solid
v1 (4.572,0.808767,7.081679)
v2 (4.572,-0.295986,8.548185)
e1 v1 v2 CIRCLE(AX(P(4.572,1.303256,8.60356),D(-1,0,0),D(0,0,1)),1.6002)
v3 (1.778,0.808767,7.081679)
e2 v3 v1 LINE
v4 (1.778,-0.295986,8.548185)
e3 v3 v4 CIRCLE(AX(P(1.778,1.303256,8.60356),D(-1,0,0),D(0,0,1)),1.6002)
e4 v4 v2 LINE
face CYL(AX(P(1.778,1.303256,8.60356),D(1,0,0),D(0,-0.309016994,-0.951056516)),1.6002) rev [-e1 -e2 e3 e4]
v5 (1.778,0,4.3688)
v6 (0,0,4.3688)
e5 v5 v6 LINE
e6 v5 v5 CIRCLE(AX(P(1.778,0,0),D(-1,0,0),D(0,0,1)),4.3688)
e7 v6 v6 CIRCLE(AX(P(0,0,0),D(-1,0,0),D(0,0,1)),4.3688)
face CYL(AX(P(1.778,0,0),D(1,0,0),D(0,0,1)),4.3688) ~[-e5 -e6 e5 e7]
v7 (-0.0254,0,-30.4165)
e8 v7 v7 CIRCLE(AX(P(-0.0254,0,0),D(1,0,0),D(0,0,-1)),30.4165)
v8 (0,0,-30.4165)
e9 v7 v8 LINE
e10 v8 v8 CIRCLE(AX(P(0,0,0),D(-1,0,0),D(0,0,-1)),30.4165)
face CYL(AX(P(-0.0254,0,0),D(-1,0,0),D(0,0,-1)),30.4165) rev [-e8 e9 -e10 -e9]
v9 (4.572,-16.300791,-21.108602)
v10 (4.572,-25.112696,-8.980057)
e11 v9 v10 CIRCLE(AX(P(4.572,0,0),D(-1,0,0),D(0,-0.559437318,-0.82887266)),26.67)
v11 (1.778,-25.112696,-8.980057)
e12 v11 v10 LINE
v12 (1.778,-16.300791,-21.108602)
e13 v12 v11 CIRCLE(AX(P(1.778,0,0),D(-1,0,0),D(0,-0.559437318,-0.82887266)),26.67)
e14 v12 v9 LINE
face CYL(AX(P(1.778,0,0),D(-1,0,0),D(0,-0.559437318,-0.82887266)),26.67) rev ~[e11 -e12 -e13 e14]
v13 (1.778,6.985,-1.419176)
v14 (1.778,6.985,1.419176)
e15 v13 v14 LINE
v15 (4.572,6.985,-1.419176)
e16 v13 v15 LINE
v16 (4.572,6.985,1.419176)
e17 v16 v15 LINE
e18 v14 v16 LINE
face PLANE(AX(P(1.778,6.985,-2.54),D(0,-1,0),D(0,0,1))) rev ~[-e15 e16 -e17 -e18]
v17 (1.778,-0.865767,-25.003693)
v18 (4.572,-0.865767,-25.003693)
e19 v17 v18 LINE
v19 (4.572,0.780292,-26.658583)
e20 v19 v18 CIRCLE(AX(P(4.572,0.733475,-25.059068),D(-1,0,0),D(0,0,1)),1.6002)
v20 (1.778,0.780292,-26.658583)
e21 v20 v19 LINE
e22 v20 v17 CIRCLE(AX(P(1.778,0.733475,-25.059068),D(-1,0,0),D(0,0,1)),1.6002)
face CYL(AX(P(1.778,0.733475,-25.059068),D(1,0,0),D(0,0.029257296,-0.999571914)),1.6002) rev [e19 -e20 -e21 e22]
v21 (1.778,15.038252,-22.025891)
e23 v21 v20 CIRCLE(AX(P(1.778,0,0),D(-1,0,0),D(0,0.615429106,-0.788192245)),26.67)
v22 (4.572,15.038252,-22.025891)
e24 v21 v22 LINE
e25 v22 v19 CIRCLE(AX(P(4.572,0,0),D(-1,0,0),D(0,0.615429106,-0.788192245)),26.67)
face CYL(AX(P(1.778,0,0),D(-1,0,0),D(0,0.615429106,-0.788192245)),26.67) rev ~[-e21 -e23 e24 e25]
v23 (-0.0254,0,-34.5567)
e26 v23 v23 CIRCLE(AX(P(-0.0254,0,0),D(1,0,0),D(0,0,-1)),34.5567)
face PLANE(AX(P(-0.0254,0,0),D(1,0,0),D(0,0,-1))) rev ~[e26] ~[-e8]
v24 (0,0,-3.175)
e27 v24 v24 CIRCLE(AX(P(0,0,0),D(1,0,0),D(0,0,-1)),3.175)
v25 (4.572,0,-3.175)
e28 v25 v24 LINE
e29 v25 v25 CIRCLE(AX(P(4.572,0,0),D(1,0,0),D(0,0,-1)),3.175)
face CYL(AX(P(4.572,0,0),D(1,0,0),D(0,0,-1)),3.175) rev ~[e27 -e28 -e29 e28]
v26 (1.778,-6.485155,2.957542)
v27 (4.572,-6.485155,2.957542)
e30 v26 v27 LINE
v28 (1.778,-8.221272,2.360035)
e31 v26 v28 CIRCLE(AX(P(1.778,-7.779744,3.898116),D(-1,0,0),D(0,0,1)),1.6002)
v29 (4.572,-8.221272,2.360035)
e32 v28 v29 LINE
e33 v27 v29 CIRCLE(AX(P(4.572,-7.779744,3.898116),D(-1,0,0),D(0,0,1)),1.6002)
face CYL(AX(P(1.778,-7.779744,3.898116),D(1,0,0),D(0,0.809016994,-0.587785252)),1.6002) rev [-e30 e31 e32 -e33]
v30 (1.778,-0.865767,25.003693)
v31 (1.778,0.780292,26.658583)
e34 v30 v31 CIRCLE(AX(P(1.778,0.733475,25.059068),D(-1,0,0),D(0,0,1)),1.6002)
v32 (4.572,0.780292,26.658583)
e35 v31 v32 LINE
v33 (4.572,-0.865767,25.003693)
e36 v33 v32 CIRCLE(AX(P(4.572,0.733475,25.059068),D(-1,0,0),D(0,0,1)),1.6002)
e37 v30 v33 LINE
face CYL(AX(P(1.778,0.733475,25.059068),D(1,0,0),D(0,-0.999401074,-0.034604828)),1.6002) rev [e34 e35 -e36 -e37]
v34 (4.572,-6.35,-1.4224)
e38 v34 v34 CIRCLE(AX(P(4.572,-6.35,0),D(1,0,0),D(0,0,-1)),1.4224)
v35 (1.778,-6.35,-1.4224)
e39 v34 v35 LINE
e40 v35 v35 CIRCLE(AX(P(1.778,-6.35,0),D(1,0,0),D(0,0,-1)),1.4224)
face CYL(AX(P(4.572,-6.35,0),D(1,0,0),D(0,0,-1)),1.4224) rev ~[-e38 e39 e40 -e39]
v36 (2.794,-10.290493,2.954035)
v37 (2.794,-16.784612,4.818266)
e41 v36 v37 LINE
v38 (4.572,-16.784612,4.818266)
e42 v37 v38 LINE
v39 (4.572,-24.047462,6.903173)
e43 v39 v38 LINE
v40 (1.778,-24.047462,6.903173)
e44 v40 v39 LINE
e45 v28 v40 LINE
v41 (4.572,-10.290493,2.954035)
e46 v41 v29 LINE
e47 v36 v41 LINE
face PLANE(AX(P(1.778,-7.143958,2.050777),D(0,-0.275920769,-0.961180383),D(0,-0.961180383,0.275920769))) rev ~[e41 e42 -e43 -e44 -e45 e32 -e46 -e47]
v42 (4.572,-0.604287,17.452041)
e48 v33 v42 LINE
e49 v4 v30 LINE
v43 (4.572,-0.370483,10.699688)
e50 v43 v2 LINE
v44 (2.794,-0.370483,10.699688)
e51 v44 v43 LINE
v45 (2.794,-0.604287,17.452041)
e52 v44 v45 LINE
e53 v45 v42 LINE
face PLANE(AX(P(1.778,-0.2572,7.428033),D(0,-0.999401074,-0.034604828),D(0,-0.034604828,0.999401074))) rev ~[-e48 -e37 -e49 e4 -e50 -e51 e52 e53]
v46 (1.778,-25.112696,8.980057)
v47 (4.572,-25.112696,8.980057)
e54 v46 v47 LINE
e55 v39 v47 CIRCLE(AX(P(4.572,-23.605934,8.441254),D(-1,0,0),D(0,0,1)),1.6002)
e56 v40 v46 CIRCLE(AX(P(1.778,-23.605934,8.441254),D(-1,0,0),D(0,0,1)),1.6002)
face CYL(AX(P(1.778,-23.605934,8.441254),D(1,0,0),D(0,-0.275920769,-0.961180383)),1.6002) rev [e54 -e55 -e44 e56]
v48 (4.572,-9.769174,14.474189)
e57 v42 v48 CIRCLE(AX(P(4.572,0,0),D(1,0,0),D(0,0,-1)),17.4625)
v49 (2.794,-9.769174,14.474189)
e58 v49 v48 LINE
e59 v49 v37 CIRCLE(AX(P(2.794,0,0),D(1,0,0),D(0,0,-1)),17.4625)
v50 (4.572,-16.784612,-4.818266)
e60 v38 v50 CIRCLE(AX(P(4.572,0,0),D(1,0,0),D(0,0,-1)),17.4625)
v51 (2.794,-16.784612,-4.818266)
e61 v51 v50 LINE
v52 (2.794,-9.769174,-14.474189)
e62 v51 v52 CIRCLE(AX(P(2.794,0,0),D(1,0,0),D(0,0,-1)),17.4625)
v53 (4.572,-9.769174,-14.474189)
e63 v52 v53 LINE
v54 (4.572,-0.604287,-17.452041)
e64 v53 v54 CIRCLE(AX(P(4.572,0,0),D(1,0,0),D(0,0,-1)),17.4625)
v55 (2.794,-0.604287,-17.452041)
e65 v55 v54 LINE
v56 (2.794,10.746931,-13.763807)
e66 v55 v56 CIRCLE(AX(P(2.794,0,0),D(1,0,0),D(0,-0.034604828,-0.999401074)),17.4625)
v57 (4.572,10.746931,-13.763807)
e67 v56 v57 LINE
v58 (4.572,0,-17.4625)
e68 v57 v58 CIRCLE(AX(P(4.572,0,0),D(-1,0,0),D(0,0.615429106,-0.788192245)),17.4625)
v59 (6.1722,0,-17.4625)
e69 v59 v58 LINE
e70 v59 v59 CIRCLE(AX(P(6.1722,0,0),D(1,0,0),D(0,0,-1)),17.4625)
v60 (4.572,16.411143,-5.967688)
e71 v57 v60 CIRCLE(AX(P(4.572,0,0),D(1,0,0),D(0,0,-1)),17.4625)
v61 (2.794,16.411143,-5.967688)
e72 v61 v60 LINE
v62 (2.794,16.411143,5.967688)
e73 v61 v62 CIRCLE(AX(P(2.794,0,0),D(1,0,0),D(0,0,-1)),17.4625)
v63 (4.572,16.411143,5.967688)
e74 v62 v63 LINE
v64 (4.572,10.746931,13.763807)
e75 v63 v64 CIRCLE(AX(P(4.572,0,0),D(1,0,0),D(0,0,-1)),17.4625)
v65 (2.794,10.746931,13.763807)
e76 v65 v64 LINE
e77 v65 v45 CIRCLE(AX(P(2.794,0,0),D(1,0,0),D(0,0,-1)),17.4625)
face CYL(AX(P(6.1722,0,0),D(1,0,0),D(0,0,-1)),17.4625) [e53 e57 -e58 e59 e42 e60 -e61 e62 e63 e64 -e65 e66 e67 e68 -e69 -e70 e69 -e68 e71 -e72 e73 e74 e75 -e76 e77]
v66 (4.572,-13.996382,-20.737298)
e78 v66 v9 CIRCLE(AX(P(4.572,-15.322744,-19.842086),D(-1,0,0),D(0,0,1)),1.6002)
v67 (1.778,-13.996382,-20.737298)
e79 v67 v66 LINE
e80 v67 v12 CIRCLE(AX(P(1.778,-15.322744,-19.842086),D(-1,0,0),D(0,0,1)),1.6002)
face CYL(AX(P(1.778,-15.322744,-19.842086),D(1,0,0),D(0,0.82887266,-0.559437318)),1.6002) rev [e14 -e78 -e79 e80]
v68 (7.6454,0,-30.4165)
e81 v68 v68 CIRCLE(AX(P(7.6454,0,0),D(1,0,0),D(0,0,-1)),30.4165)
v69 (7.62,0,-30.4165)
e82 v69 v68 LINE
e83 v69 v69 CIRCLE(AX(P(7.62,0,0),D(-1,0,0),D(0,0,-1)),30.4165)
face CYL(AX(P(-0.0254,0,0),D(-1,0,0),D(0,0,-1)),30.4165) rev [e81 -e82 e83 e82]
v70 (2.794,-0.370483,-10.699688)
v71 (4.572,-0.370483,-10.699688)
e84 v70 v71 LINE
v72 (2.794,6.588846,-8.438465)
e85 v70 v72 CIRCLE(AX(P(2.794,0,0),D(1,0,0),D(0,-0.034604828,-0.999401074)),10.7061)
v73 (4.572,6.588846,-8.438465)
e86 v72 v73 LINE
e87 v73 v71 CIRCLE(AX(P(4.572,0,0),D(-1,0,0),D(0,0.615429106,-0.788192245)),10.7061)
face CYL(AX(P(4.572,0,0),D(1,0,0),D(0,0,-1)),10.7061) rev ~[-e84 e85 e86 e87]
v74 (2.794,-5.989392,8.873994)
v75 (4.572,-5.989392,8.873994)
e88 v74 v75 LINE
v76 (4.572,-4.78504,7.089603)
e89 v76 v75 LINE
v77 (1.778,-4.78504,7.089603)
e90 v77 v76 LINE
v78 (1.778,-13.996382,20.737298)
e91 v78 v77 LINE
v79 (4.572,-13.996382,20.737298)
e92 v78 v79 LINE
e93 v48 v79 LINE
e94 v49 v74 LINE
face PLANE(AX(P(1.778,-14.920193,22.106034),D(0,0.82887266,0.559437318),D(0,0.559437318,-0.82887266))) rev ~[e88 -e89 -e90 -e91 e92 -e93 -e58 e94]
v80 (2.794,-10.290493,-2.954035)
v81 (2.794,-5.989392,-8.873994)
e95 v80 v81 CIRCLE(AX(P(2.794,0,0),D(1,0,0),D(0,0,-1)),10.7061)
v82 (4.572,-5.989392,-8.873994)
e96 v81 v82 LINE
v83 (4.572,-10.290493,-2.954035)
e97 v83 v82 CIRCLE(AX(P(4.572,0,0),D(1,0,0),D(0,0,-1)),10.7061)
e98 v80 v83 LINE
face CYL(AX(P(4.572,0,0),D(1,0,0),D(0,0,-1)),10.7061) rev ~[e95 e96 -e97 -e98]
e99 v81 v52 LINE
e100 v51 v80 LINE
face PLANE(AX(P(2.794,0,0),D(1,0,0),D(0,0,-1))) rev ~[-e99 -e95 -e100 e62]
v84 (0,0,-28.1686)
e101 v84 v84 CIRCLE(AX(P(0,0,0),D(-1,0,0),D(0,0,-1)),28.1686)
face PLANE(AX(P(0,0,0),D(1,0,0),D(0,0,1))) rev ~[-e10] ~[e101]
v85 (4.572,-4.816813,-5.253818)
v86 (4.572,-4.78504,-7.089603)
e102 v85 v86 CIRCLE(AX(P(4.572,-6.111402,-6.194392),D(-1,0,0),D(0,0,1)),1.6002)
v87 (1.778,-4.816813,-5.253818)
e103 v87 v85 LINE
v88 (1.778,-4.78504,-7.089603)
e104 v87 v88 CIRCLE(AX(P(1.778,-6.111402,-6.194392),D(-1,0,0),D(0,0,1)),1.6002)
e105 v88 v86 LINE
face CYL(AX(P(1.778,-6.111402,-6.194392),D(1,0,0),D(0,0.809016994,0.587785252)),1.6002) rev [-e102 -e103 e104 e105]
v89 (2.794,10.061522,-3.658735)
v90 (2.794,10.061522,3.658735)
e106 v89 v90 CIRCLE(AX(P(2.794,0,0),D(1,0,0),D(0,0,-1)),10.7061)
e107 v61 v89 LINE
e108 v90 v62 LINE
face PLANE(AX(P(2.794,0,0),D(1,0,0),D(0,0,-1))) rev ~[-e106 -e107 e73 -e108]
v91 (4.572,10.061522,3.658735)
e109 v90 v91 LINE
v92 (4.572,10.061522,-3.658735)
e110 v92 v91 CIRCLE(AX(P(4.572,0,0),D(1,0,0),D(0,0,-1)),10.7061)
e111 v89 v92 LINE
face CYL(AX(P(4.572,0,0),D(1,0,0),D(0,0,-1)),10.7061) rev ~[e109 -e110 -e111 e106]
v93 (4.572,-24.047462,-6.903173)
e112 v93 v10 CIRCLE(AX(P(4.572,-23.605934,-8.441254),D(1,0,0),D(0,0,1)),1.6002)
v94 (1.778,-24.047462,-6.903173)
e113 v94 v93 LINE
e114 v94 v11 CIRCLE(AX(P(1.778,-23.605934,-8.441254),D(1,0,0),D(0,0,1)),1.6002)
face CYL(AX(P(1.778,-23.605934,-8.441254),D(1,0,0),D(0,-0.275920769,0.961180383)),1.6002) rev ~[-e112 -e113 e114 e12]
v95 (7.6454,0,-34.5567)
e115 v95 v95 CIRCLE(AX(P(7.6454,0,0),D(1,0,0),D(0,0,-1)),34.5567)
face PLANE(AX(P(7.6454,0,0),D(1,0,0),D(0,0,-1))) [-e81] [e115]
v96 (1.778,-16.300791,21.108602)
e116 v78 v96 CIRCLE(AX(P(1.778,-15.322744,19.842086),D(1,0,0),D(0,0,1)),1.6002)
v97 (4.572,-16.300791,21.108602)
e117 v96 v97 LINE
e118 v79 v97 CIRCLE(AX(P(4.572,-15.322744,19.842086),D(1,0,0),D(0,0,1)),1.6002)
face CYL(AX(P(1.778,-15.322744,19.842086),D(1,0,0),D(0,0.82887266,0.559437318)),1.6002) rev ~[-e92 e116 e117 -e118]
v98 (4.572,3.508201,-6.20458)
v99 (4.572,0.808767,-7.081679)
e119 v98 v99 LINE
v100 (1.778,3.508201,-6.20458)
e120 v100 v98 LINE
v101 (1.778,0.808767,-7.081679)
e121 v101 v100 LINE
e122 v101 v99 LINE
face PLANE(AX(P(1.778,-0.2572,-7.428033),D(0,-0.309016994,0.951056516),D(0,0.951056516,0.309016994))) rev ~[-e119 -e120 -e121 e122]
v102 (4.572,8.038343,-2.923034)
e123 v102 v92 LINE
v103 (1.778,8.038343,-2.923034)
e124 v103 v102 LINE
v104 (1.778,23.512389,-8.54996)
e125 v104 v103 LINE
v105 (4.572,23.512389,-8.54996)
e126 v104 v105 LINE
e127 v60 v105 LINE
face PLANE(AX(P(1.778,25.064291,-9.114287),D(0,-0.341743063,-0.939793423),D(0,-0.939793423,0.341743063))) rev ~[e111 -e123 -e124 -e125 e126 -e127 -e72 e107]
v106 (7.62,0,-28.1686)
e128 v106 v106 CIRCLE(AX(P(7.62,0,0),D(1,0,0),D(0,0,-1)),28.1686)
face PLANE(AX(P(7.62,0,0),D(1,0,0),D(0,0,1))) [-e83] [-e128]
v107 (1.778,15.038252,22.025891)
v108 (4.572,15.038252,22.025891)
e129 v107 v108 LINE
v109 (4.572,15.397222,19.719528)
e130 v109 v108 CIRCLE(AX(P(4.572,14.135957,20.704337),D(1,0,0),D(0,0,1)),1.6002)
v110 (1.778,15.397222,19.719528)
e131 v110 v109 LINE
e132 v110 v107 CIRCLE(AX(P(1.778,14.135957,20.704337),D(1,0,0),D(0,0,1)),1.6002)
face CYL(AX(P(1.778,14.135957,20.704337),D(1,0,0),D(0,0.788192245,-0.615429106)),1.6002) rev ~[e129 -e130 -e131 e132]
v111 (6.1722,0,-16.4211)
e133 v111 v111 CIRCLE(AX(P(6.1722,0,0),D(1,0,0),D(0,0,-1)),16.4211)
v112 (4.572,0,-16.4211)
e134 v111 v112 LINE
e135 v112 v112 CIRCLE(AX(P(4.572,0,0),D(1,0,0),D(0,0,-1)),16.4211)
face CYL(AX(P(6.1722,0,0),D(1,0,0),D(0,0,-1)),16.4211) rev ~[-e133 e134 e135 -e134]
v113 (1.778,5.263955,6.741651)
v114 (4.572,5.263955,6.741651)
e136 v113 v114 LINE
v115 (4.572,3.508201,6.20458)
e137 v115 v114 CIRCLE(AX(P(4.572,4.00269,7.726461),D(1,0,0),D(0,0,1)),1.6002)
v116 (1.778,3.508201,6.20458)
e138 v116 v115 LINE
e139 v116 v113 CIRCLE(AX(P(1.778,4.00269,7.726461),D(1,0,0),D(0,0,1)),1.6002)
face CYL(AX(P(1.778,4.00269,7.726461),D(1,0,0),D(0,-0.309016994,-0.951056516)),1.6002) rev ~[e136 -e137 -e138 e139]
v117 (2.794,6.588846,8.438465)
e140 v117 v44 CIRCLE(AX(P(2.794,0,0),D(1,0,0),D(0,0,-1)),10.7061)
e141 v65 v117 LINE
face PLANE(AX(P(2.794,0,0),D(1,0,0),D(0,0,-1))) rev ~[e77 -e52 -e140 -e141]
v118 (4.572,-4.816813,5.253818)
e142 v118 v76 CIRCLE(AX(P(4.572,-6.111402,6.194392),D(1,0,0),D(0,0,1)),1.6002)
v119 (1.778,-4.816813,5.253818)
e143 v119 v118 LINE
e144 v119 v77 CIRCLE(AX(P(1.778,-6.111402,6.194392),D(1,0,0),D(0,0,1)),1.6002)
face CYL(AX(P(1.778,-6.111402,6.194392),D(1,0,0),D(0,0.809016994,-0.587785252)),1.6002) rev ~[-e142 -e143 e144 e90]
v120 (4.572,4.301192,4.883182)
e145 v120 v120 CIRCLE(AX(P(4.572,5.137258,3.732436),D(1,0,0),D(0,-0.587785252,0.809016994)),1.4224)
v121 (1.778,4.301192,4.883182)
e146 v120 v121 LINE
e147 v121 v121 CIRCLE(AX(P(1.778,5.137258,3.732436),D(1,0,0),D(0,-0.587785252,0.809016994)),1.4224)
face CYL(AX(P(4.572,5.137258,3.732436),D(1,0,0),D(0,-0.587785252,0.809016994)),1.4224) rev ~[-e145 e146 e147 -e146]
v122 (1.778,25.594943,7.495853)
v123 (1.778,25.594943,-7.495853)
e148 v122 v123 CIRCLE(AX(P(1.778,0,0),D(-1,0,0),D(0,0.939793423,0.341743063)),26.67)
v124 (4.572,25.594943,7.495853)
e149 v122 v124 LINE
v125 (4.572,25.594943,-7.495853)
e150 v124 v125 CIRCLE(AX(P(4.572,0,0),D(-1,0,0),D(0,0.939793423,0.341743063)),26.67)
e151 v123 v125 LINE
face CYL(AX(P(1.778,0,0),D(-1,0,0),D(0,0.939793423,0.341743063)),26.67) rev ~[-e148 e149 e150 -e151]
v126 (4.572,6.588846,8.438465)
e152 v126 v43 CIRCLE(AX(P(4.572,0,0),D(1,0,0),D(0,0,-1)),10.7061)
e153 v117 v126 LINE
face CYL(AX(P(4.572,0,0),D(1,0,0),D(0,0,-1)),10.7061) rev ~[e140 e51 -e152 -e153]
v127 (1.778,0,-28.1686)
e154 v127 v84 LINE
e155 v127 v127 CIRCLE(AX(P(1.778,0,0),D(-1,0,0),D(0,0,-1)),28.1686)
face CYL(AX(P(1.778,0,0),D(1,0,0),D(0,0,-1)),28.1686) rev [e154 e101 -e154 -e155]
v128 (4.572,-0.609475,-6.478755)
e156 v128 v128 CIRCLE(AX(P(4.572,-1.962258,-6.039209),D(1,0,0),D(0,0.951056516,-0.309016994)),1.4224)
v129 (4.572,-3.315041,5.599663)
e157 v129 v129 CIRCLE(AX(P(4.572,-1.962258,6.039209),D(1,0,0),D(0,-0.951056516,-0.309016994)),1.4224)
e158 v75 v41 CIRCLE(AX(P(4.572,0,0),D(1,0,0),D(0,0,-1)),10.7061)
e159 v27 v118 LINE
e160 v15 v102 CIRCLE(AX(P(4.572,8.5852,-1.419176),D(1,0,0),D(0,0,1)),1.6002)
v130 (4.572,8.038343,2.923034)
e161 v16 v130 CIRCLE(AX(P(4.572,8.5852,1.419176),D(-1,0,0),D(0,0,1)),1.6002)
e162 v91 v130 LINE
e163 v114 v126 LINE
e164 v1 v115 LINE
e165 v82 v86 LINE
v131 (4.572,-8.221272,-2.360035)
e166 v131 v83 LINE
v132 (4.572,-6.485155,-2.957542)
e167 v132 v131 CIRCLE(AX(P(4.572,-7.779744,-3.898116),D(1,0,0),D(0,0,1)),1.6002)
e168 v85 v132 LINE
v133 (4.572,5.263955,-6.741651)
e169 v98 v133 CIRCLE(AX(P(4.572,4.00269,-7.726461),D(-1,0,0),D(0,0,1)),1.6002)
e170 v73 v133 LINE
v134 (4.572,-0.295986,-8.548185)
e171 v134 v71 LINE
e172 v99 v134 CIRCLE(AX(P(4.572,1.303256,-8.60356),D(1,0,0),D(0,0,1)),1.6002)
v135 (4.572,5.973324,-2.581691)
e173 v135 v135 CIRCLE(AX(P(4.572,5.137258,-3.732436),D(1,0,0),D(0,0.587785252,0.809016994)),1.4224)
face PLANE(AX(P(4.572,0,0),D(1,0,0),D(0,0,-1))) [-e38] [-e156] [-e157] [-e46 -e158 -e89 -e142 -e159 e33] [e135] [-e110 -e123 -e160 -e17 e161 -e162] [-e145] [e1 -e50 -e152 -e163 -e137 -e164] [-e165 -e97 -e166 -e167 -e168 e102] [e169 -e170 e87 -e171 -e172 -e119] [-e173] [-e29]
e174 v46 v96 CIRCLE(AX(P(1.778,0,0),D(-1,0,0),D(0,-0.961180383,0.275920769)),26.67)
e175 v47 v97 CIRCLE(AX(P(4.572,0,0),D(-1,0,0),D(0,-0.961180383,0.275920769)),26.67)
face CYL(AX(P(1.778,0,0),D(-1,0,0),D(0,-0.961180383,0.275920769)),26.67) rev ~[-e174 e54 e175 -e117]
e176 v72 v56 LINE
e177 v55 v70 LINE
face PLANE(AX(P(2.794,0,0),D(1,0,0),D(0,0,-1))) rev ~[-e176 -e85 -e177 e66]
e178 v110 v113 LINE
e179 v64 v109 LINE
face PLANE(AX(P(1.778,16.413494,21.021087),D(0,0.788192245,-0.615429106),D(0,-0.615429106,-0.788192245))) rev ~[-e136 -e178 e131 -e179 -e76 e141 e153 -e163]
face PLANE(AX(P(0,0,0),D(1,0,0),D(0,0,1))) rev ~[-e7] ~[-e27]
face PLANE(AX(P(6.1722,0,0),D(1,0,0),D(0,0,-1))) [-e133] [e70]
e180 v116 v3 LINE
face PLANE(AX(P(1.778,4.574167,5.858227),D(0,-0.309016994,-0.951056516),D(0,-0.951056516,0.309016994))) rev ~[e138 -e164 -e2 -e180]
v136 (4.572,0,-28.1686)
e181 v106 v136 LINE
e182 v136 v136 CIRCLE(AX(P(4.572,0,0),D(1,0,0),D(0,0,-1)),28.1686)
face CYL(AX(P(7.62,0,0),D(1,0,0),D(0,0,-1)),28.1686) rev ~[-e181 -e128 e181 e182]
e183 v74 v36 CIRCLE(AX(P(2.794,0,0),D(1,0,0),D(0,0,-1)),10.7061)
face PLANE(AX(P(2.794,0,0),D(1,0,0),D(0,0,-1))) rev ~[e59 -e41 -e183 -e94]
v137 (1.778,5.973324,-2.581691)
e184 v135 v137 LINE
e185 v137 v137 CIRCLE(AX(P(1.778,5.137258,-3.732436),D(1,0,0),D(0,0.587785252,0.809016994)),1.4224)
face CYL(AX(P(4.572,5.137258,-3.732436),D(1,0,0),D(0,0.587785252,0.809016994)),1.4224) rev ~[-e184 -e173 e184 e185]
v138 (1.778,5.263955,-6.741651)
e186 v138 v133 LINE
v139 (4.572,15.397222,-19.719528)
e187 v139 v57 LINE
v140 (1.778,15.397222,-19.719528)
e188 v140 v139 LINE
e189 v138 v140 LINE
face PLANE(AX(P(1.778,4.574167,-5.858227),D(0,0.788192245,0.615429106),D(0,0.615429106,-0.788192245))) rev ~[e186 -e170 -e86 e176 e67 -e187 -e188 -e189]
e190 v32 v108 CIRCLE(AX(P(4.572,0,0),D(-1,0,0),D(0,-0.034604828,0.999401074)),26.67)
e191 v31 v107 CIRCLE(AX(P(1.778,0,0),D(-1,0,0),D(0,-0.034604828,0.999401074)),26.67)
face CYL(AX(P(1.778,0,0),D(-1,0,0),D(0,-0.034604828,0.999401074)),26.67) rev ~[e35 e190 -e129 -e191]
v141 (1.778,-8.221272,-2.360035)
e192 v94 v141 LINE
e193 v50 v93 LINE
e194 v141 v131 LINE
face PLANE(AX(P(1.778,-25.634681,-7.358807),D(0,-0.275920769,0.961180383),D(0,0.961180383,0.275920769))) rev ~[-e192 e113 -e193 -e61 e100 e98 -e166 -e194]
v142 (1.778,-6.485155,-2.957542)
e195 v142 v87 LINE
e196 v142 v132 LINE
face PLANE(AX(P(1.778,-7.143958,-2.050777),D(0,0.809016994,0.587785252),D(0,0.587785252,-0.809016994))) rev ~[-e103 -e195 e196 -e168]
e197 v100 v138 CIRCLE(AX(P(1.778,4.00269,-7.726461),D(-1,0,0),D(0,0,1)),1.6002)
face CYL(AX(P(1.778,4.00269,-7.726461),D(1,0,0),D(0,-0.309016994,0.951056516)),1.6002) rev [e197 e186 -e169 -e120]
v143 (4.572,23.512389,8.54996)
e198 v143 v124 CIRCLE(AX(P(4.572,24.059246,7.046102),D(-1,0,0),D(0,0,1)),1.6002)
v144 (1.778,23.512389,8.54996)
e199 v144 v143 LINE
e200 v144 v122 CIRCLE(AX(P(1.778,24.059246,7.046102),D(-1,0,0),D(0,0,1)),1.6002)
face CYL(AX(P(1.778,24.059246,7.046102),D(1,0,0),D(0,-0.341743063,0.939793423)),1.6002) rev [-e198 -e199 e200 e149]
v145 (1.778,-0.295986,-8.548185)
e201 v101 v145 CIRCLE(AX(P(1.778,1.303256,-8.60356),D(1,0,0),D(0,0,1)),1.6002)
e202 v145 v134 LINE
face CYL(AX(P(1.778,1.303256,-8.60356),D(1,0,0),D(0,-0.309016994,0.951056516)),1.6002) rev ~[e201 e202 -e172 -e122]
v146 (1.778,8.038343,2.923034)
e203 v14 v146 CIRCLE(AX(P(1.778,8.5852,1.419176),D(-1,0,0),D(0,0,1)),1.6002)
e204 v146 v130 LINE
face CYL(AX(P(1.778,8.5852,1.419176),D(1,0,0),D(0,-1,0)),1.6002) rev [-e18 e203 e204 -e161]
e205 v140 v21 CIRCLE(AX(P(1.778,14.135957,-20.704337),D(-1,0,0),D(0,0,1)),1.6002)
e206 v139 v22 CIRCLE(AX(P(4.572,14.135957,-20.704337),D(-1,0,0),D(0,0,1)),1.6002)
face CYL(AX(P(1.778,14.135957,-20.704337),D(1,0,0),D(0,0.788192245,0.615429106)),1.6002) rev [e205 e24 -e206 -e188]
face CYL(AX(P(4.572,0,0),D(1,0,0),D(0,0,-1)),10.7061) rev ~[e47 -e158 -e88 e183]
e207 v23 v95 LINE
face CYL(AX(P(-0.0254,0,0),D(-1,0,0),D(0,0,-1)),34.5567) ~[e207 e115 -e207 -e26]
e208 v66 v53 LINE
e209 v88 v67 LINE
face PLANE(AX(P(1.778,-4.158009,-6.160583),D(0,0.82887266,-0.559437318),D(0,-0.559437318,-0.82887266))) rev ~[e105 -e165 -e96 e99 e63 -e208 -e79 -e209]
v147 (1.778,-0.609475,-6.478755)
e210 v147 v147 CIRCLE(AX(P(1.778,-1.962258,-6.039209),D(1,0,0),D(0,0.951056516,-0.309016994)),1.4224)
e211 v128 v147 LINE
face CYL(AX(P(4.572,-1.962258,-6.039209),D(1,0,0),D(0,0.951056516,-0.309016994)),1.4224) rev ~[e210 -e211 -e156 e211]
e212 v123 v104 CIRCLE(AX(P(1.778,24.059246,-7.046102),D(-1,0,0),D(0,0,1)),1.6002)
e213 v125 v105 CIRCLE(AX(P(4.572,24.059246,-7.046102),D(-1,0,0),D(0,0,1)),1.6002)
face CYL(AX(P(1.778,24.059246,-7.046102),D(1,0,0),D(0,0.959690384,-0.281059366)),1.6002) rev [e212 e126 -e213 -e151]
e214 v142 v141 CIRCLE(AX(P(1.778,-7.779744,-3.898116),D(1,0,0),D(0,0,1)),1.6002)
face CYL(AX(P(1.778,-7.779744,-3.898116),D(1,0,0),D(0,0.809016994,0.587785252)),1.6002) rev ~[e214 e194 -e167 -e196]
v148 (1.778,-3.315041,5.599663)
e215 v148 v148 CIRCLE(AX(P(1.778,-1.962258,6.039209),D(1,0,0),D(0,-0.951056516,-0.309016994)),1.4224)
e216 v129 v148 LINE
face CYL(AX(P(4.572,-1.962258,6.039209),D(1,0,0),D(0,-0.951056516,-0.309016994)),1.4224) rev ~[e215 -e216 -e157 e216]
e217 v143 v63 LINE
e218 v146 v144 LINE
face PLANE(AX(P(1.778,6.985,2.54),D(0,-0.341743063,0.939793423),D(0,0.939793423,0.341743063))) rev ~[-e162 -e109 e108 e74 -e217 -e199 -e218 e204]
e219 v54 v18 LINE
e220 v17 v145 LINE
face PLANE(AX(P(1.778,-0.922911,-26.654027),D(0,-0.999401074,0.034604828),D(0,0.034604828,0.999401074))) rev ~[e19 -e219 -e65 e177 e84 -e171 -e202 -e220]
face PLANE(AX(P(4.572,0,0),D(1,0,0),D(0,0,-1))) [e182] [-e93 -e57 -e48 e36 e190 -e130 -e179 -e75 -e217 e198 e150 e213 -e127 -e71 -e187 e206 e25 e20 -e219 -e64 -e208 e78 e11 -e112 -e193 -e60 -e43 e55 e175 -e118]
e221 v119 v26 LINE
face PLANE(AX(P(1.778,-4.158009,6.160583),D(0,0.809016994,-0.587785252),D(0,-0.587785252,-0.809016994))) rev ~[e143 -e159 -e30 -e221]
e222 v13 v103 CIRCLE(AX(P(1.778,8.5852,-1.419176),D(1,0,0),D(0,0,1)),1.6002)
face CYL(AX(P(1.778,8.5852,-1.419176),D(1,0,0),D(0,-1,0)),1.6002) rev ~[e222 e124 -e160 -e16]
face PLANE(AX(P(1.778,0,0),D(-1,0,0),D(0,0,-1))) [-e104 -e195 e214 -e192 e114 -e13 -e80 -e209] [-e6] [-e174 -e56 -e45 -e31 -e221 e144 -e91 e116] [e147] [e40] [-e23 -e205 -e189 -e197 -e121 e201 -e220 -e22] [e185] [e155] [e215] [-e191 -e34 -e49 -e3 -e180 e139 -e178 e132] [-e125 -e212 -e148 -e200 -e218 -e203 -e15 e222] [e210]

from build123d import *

# Parameters (mm, degrees)
SKETCH1_R                = 34.544
BOSS_EXTRUDE1_DEPTH      = 7.62
SKETCH2_R                = 28.1686
CUT_EXTRUDE1_DEPTH       = 3.048
CUT_EXTRUDE2_START       = -1.778
SKETCH3_R                = 28.1686
SKETCH3_R_2              = 4.3688
CUT_EXTRUDE2_DEPTH       = 1.778
CUT_EXTRUDE3_DEPTH       = 50.200658898
FILLET1_R                = 1.6002
CIRPATTERN1_COUNT        = 5
FILLET1_OF_CIRPATTERN1_R = 1.6002
SKETCH5_R                = 17.4625
SKETCH5_R_2              = 10.7061
BOSS_EXTRUDE2_DEPTH      = 1.778
BOSS_EXTRUDE4_START      = 1.6002
SKETCH6_R                = 17.4625
SKETCH6_R_2              = 16.4211
BOSS_EXTRUDE4_DEPTH      = 1.6002
SKETCH7_R                = 3.175
CUT_EXTRUDE4_DEPTH       = 50.066068275
SKETCH8_R                = 1.4224
CUT_EXTRUDE5_DEPTH       = 50.066068275
CIRPATTERN2_COUNT        = 5
BOSS_EXTRUDE5_DEPTH      = 0.0254
BOSS_EXTRUDE5_DEPTH_BACK = 7.6454
SKETCH9_R                = 34.5567
SKETCH9_R_2              = 30.4165


with BuildPart() as part:
    # Sketch1 → Boss-Extrude1 (new body)
    with BuildSketch(Plane(origin=(0, 0, 0), x_dir=(0, 0, -1), z_dir=(1, 0, 0))):
        with Locations(Location((0, 0, 0), (0, 0, 180))):
            Circle(SKETCH1_R)
    extrude(amount=BOSS_EXTRUDE1_DEPTH)

    # Sketch2 → Cut-Extrude1 (cut)
    with BuildSketch(Plane(origin=(7.62, 0, 0), x_dir=(0, 0, -1), z_dir=(1, 0, 0))):
        Circle(SKETCH2_R)
    extrude(amount=-CUT_EXTRUDE1_DEPTH, mode=Mode.SUBTRACT)

    # Sketch3 → Cut-Extrude2 (cut)
    with BuildSketch(Plane.ZY.offset(CUT_EXTRUDE2_START)):
        with Locations(Location((0, 0, 0), (0, 0, 180))):
            Circle(SKETCH3_R)
        Circle(SKETCH3_R_2, mode=Mode.SUBTRACT)
    extrude(amount=CUT_EXTRUDE2_DEPTH, mode=Mode.SUBTRACT)

    # Sketch4 → Cut-Extrude3 (cut, through all)
    with BuildSketch(Plane.ZY.offset(-1.778)):
        with BuildLine():
            Line((-2.54, 6.985), (2.54, 6.985))
            Line((2.54, 6.985), (9.114287493, 25.064290604))
            ThreePointArc((9.114287493, 25.064290604), (0, 26.67), (-9.114287493, 25.064290604))
            Line((-9.114287493, 25.064290604), (-2.54, 6.985))
        make_face()
    cut_extrude3 = extrude(amount=-CUT_EXTRUDE3_DEPTH, mode=Mode.SUBTRACT)

    # Fillet1
    fillet1_edges = [part.edges().sort_by_distance(p)[0] for p in [
        (3.175, 25.064290604, 9.114287493),
        (3.175, 6.985, 2.54),
        (3.175, 6.985, -2.54),
        (3.175, 25.064290604, -9.114287493),
    ]]
    fillet(fillet1_edges, radius=FILLET1_R)

    # CirPattern1: Cut-Extrude3 ×5 about axis
    cirpattern1_axis = Axis((0, 0, 0), (1, 0, 0))
    for i in range(1, CIRPATTERN1_COUNT):
        add(cut_extrude3.rotate(cirpattern1_axis, i * 360 / CIRPATTERN1_COUNT), mode=Mode.SUBTRACT)

    # Fillet1 of CirPattern1
    fillet1_of_cirpattern1_edges = [part.edges().sort_by_distance(p)[0] for p in [
        (3.175, -0.922910762, 26.654026632),
        (3.175, -0.257199846, 7.428032932),
        (3.175, 4.574167257, 5.858226601),
        (3.175, 16.41349426, 21.021087179),
        (3.175, -25.634680824, 7.358806903),
        (3.175, -7.143958247, 2.050776822),
        (3.175, -4.158009165, 6.160583153),
        (3.175, -14.920193278, 22.10603385),
        (3.175, -14.920193278, -22.10603385),
        (3.175, -4.158009165, -6.160583153),
        (3.175, -7.143958247, -2.050776822),
        (3.175, -25.634680824, -7.358806903),
        (3.175, 16.41349426, -21.021087179),
        (3.175, 4.574167257, -5.858226601),
        (3.175, -0.257199846, -7.428032932),
        (3.175, -0.922910762, -26.654026632),
    ]]
    fillet(fillet1_of_cirpattern1_edges, radius=FILLET1_OF_CIRPATTERN1_R)

    # Sketch5 → Boss-Extrude2 (add)
    with BuildSketch(Plane(origin=(4.572, 0, 0), x_dir=(0, 0, -1), z_dir=(1, 0, 0))):
        Circle(SKETCH5_R)
        Circle(SKETCH5_R_2, mode=Mode.SUBTRACT)
    extrude(amount=-BOSS_EXTRUDE2_DEPTH)

    # Sketch6 → Boss-Extrude4 (add)
    with BuildSketch(Plane(origin=(4.572, 0, 0), x_dir=(0, 0, -1), z_dir=(1, 0, 0)).offset(BOSS_EXTRUDE4_START)):
        Circle(SKETCH6_R)
        Circle(SKETCH6_R_2, mode=Mode.SUBTRACT)
    extrude(amount=-BOSS_EXTRUDE4_DEPTH)

    # Sketch7 → Cut-Extrude4 (cut, through all)
    with BuildSketch(Plane(origin=(4.572, 0, 0), x_dir=(0, 0, -1), z_dir=(1, 0, 0))):
        Circle(SKETCH7_R)
    extrude(amount=-CUT_EXTRUDE4_DEPTH, mode=Mode.SUBTRACT)

    # Sketch8 → Cut-Extrude5 (cut, through all)
    with BuildSketch(Plane(origin=(4.572, 0, 0), x_dir=(0, 0, -1), z_dir=(1, 0, 0))):
        with Locations((0, -6.35)):
            Circle(SKETCH8_R)
    cut_extrude5 = extrude(amount=-CUT_EXTRUDE5_DEPTH, mode=Mode.SUBTRACT)

    # CirPattern2: Cut-Extrude5 ×5 about axis
    cirpattern2_axis = Axis((0, 0, 0), (1, 0, 0))
    for i in range(1, CIRPATTERN2_COUNT):
        add(cut_extrude5.rotate(cirpattern2_axis, i * 360 / CIRPATTERN2_COUNT), mode=Mode.SUBTRACT)

    # Sketch9 → Boss-Extrude5 (add, two sides: drawn at the far end of the back side and taken through both)
    with BuildSketch(Plane(origin=(7.62, 0, 0), x_dir=(0, 0, -1), z_dir=(1, 0, 0)).offset(-BOSS_EXTRUDE5_DEPTH_BACK)):
        Circle(SKETCH9_R)
        Circle(SKETCH9_R_2, mode=Mode.SUBTRACT)
    extrude(amount=BOSS_EXTRUDE5_DEPTH + BOSS_EXTRUDE5_DEPTH_BACK)


solid = part.part
